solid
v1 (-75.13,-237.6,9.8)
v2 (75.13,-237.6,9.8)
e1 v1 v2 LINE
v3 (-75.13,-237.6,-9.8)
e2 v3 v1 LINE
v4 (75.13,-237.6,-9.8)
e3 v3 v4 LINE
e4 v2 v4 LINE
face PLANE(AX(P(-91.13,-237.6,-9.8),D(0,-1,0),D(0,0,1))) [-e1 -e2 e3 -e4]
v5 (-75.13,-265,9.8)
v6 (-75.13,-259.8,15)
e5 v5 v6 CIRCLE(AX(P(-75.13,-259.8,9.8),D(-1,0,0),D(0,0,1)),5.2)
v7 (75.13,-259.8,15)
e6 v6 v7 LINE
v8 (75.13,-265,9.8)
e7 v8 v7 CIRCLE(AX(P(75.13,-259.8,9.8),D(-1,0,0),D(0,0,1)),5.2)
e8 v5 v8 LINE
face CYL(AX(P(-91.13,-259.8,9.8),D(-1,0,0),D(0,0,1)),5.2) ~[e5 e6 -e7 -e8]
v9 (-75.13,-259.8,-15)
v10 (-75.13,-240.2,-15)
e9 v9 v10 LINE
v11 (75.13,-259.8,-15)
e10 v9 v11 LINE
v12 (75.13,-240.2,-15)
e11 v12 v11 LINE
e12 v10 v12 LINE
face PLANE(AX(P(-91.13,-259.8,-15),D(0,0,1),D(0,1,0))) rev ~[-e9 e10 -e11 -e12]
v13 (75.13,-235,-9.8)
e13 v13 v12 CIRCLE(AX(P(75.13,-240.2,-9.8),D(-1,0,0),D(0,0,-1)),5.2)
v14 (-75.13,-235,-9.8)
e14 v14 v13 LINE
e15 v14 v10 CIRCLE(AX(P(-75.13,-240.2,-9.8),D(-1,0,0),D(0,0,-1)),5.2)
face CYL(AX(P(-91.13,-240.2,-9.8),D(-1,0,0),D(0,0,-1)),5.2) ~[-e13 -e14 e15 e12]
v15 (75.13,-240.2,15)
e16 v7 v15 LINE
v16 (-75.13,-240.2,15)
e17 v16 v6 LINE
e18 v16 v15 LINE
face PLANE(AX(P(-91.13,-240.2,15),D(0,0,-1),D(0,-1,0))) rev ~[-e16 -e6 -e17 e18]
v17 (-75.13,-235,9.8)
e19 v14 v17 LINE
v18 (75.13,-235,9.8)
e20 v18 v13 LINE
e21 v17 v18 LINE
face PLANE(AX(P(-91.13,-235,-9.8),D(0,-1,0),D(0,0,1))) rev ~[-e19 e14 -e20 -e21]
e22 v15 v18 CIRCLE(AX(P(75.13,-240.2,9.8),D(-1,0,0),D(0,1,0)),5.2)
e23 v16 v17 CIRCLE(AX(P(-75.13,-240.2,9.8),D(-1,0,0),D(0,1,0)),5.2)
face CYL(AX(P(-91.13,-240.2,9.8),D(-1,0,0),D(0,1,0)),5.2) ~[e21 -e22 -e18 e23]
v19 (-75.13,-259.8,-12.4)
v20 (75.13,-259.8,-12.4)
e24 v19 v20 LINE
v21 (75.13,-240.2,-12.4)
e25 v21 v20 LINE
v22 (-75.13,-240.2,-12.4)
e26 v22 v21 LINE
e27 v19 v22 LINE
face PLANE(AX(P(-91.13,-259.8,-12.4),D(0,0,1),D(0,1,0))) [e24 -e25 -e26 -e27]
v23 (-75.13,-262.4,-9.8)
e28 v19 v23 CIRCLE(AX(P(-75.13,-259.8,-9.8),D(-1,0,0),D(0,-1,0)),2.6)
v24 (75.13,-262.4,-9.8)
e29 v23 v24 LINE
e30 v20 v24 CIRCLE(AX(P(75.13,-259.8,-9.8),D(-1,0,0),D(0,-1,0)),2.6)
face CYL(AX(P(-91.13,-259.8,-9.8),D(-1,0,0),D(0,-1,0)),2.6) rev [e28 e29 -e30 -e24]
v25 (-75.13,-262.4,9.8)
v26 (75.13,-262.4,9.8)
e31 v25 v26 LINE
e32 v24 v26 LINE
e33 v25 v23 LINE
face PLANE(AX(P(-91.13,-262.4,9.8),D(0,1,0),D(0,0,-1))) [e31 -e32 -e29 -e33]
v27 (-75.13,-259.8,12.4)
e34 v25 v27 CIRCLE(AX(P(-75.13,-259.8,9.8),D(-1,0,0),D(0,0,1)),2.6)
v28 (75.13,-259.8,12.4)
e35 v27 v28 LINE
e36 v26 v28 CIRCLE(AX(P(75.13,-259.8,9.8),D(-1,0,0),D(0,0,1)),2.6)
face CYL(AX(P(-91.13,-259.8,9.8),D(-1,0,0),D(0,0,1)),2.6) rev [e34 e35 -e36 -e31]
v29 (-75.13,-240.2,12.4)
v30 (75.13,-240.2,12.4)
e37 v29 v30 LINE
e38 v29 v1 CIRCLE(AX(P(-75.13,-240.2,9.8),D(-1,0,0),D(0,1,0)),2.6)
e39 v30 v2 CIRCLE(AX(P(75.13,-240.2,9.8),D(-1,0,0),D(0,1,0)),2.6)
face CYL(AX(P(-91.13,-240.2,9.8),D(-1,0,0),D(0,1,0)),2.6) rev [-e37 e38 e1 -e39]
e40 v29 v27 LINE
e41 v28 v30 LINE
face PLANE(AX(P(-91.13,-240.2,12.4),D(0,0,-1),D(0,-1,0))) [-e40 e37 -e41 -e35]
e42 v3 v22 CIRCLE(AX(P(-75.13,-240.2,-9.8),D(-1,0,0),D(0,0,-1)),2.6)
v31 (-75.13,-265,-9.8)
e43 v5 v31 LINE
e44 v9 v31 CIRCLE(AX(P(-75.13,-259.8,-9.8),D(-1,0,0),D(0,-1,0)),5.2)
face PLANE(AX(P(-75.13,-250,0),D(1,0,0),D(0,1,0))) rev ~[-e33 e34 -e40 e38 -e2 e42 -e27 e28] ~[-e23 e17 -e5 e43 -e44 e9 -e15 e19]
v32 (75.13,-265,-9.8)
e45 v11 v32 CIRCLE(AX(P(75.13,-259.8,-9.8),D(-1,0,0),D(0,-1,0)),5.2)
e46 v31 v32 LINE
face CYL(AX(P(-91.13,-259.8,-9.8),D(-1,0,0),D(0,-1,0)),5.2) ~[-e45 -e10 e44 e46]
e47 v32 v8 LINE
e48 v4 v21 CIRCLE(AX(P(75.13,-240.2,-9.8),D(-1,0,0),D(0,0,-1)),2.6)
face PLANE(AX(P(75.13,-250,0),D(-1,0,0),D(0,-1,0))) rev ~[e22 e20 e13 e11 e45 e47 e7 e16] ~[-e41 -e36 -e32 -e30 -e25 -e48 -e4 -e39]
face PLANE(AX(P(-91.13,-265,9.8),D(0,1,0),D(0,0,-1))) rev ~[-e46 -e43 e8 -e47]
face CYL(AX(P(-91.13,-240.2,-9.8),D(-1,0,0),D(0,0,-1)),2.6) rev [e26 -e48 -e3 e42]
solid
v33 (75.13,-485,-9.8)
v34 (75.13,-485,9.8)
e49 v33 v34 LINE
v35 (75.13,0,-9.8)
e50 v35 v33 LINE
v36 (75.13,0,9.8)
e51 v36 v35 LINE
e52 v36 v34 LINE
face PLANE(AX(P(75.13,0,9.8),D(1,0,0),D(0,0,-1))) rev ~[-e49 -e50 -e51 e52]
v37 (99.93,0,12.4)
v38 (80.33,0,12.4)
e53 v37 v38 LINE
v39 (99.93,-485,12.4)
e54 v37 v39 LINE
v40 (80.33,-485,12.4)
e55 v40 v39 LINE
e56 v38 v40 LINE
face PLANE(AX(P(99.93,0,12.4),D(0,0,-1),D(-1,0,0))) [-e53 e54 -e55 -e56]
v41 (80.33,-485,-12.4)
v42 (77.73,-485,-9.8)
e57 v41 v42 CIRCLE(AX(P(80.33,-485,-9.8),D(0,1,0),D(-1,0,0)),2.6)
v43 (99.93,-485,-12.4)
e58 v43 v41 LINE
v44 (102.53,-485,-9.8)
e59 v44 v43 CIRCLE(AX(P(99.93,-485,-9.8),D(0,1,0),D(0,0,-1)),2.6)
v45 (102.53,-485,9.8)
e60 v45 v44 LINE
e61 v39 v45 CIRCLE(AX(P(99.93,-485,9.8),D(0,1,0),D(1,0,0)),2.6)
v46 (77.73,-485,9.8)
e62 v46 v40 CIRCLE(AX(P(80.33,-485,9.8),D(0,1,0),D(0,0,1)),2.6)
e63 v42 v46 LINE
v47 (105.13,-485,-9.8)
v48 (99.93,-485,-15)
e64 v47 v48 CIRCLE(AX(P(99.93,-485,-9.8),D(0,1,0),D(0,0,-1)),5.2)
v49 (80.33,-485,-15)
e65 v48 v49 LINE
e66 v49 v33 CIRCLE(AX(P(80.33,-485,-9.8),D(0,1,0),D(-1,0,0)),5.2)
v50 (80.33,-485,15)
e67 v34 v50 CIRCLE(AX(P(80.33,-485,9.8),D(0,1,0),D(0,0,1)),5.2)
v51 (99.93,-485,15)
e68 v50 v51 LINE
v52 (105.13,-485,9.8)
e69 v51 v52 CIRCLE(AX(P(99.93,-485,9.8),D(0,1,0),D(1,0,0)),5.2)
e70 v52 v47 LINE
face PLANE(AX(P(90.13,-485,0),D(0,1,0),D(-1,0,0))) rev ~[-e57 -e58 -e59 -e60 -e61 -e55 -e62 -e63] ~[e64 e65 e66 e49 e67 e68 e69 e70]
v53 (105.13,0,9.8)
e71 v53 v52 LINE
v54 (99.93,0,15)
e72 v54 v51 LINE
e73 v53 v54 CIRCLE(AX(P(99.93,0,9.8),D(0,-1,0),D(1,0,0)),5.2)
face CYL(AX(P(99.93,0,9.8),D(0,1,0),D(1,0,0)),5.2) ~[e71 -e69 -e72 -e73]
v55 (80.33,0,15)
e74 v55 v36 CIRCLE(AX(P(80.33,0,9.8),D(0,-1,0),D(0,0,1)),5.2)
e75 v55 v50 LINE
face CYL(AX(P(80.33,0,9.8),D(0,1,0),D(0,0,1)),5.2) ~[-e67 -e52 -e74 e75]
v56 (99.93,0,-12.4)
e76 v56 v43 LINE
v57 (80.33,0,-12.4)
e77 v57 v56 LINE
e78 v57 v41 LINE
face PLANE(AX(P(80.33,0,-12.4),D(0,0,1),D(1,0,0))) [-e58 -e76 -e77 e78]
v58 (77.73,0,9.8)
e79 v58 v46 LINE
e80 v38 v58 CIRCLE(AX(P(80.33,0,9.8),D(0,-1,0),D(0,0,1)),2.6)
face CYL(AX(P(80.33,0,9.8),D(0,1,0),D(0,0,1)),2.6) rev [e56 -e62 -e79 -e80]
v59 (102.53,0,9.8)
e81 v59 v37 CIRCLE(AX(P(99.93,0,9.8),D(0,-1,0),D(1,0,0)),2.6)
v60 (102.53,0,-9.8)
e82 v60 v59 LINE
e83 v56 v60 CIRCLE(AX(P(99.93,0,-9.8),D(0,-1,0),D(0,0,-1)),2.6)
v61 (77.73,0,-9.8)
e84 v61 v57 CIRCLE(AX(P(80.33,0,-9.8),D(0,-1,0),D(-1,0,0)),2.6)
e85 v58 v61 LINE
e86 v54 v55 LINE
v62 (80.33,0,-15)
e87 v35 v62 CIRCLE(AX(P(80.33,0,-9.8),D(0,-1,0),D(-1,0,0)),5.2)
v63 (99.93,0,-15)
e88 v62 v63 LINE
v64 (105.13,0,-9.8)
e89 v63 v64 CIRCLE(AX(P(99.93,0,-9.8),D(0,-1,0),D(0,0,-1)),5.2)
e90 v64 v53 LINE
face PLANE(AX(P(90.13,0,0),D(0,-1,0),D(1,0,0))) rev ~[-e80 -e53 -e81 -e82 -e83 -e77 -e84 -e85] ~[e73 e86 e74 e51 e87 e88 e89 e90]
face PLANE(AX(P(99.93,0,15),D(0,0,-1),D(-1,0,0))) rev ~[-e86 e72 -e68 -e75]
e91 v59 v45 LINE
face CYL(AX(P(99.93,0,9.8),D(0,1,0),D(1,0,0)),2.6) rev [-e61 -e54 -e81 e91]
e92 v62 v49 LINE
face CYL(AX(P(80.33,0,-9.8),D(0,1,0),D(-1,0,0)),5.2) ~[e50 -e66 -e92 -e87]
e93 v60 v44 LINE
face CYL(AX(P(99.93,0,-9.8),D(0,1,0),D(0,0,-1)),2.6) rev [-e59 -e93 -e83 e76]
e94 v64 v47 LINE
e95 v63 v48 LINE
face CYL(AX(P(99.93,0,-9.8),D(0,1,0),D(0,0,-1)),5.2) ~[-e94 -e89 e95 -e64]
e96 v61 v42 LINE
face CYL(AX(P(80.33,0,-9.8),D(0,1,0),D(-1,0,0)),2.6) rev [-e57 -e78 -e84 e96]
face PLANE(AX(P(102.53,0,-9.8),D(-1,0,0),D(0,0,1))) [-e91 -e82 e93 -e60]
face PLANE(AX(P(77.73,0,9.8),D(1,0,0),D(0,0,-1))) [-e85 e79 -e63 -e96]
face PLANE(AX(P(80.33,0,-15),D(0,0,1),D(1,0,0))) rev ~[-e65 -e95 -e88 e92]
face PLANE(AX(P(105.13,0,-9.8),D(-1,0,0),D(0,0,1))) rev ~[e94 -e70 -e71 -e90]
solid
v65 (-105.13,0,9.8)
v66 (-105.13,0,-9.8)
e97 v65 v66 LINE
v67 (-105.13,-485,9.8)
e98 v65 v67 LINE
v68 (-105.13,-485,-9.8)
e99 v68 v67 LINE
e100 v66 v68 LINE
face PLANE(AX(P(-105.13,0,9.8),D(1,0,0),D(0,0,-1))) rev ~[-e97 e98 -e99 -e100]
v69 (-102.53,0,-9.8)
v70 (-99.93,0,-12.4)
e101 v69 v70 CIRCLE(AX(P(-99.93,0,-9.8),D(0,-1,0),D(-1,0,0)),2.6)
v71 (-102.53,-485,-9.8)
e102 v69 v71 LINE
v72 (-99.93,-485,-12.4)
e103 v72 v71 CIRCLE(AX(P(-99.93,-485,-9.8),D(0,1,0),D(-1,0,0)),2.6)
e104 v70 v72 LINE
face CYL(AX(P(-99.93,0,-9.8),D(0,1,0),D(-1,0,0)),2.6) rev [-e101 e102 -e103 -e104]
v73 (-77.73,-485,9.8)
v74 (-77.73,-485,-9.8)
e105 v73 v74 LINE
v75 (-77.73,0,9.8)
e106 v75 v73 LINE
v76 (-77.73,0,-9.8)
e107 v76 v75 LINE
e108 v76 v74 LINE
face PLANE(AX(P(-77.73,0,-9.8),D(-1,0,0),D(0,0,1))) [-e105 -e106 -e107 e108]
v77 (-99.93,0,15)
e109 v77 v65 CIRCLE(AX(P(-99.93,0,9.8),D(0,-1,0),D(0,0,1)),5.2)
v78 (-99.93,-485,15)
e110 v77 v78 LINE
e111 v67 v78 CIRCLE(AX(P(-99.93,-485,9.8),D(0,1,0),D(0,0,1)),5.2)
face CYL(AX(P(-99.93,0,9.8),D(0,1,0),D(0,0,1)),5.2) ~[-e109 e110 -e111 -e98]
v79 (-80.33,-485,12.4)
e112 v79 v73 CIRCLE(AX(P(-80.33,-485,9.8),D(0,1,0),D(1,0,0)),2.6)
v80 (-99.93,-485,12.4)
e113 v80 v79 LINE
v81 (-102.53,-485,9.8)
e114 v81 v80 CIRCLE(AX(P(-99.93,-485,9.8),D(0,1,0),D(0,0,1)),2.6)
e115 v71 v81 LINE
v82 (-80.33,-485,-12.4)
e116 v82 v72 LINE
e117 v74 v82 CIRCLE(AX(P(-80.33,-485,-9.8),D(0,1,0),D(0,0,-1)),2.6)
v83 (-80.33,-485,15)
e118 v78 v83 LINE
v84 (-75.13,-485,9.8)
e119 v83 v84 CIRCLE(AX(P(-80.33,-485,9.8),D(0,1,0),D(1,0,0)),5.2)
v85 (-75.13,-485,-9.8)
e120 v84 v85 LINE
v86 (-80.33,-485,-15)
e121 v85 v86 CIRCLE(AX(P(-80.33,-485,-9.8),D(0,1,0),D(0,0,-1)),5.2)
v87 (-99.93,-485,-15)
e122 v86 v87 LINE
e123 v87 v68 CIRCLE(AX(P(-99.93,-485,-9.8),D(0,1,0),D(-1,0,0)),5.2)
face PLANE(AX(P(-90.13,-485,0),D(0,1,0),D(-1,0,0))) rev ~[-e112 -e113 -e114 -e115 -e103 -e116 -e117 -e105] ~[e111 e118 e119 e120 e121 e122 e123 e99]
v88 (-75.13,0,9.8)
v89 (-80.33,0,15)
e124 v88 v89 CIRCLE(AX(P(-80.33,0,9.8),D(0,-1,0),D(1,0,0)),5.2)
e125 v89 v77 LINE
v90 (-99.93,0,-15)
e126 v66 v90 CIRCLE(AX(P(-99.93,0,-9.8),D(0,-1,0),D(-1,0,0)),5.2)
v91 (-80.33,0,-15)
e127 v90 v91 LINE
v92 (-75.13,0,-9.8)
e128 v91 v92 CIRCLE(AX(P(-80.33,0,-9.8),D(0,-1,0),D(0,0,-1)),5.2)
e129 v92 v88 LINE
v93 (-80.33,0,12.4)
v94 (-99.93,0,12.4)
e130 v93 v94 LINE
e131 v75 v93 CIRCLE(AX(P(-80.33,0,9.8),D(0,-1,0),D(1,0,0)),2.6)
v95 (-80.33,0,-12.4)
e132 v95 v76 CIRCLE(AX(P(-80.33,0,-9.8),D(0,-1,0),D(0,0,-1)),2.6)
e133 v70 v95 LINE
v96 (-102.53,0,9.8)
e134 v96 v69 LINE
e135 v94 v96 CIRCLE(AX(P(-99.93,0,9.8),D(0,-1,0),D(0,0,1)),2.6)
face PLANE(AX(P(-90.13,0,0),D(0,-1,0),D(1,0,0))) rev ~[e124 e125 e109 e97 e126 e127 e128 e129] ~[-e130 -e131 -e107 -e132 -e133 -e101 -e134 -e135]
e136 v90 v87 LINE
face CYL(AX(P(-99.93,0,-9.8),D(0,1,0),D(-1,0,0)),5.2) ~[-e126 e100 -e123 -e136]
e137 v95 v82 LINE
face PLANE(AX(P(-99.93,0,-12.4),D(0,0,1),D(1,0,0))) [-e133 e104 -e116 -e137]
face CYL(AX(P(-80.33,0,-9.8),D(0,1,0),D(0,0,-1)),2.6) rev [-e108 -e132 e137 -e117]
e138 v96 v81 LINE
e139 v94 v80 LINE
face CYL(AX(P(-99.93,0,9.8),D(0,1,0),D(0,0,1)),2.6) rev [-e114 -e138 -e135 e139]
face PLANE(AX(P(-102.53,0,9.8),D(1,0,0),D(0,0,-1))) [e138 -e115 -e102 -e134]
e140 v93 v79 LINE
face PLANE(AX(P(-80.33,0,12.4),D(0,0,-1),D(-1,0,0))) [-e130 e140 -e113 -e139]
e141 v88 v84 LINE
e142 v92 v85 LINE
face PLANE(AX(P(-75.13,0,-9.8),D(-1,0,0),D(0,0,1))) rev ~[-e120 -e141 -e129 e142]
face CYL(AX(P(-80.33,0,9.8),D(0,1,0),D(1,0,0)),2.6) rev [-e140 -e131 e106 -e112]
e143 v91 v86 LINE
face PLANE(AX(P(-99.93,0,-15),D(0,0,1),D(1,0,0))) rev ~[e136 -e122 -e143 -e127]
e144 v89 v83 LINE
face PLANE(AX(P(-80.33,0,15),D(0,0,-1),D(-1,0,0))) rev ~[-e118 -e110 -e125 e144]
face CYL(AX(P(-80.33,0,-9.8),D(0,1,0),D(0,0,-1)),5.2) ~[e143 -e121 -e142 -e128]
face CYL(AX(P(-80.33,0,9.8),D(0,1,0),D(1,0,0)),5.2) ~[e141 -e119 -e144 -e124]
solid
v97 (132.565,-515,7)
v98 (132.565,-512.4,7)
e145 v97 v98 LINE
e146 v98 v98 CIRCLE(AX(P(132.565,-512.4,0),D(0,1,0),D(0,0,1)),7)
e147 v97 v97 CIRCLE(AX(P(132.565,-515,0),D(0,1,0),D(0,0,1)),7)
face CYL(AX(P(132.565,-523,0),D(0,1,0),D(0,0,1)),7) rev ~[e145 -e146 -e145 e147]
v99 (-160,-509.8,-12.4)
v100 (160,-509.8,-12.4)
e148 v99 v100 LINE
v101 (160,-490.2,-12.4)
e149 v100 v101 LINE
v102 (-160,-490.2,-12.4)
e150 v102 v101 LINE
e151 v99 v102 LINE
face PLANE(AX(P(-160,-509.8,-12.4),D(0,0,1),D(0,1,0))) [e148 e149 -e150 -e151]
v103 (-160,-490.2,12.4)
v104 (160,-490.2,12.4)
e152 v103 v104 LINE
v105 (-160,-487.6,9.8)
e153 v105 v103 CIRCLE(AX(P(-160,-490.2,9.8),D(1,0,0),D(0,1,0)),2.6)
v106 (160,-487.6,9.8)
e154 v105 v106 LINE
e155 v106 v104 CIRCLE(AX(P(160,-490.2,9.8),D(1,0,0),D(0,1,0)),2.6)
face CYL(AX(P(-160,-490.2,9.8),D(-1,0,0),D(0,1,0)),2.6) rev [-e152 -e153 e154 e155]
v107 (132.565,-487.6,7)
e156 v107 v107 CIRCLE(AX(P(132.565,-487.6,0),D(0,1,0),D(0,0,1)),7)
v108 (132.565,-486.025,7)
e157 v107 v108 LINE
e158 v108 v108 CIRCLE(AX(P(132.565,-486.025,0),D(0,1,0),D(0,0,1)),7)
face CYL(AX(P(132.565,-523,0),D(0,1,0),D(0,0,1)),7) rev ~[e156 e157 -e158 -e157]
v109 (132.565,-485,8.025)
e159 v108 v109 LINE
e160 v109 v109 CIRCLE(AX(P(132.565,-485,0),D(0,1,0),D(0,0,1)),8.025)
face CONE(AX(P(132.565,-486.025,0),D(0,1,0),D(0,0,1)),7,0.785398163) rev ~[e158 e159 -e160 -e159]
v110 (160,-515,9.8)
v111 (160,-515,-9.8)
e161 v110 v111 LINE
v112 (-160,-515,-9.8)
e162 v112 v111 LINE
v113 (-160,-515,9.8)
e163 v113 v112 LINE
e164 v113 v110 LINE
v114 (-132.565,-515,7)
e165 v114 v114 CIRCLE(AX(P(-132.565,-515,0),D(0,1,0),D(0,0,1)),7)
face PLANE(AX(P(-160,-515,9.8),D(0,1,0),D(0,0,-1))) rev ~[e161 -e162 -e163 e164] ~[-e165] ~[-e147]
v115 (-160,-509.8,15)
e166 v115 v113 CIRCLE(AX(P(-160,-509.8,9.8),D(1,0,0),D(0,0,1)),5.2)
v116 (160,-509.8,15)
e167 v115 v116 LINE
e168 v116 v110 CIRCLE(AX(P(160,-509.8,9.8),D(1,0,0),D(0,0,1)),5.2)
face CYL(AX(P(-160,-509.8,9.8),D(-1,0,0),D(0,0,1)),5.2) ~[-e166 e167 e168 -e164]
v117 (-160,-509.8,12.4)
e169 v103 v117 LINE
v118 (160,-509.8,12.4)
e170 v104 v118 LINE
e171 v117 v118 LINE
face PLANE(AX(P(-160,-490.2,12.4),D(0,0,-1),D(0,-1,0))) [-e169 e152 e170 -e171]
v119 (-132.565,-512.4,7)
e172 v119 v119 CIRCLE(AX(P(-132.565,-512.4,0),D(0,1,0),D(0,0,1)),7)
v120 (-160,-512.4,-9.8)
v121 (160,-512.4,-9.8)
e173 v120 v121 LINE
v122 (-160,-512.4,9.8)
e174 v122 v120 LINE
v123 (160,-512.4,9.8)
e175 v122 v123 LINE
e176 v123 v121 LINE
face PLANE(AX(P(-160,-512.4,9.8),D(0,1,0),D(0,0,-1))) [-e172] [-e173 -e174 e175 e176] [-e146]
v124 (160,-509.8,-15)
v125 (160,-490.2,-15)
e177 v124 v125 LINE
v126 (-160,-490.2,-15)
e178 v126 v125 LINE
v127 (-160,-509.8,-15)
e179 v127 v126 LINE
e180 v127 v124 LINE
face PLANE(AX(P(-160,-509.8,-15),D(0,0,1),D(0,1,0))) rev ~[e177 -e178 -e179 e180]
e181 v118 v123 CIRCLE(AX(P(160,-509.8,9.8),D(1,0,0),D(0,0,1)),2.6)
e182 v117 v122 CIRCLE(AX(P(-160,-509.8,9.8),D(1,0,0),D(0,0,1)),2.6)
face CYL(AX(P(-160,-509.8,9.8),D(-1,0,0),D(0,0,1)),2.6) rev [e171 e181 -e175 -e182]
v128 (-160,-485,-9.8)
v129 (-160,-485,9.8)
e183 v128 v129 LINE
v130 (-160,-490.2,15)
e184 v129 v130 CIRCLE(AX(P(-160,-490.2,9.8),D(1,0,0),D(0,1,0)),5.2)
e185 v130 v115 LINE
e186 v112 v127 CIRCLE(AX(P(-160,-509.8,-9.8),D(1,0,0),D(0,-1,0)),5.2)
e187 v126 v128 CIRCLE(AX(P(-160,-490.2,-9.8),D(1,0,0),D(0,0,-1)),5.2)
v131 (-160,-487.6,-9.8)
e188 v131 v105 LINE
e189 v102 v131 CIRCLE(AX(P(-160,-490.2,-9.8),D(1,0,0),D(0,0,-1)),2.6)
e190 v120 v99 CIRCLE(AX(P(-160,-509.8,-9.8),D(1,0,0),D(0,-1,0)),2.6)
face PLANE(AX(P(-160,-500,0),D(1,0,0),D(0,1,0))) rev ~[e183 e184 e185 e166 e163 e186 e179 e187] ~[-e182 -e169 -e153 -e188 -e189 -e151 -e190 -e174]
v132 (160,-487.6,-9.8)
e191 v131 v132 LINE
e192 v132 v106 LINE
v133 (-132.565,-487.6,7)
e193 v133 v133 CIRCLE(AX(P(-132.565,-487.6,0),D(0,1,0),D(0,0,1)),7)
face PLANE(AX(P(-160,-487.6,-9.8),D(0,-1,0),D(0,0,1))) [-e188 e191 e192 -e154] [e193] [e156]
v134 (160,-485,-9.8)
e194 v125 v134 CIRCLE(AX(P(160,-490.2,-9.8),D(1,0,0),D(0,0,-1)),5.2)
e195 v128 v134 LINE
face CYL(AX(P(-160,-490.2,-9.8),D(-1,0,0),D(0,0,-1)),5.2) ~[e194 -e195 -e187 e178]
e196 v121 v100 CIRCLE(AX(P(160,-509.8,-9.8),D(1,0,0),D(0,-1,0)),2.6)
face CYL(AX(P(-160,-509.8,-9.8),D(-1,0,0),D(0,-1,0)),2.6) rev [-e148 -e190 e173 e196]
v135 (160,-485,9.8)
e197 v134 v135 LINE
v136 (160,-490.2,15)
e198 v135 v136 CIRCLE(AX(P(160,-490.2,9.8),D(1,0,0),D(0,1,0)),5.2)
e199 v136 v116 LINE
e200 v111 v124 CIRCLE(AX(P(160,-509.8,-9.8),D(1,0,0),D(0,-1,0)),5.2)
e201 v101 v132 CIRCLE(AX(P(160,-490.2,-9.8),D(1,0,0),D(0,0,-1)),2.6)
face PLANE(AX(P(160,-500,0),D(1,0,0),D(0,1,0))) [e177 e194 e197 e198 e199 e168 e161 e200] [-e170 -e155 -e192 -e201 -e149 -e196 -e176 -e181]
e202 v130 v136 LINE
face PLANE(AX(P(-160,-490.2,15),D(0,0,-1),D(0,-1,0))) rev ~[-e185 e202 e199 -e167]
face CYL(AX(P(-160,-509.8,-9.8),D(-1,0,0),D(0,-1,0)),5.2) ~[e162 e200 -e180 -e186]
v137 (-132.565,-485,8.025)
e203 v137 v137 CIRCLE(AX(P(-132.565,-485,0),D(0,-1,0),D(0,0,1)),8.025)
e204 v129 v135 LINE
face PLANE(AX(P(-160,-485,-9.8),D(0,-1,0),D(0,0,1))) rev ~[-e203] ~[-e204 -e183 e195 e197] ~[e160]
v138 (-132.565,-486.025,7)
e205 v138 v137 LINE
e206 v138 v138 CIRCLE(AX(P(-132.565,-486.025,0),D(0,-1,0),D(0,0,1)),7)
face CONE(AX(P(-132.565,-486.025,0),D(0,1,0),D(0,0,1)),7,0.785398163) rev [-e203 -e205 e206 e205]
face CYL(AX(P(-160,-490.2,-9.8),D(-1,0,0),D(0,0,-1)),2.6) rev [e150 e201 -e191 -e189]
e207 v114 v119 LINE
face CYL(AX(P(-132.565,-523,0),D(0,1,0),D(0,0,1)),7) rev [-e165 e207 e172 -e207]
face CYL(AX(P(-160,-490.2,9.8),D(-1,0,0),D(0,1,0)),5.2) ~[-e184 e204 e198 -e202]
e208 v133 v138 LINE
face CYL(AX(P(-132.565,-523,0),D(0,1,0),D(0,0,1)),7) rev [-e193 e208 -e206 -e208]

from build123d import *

# Parameters (mm, degrees)
SQUARE_TUBE_30_X_30_X_2_6_1_DEPTH   = 501
SQUARE_TUBE_30_X_30_X_2_6_1_2_DEPTH = 501
SQUARE_TUBE_30_X_30_X_2_6_1_3_DEPTH = 320
SQUARE_TUBE_30_X_30_X_2_6_1_4_DEPTH = 182.26


with BuildPart() as part:
    # Sketch17 → Square tube 30 X 30 X 2.6(1) (new body)
    with BuildSketch(Plane(origin=(-90.13, 0, 0), x_dir=(1, 0, 0), z_dir=(0, -1, 0))):
        with BuildLine():
            Line((-9.8, -15), (9.8, -15))
            ThreePointArc((9.8, -15), (13.476955262, -13.476955262), (15, -9.8))
            Line((15, -9.8), (15, 9.8))
            ThreePointArc((15, 9.8), (13.476955262, 13.476955262), (9.8, 15))
            Line((9.8, 15), (-9.8, 15))
            ThreePointArc((-9.8, 15), (-13.476955262, 13.476955262), (-15, 9.8))
            Line((-15, 9.8), (-15, -9.8))
            ThreePointArc((-15, -9.8), (-13.476955262, -13.476955262), (-9.8, -15))
        make_face()
        with BuildLine():
            Line((-9.8, -12.4), (9.8, -12.4))
            ThreePointArc((9.8, -12.4), (11.638477631, -11.638477631), (12.4, -9.8))
            Line((12.4, -9.8), (12.4, 9.8))
            ThreePointArc((12.4, 9.8), (11.638477631, 11.638477631), (9.8, 12.4))
            Line((9.8, 12.4), (-9.8, 12.4))
            ThreePointArc((-9.8, 12.4), (-11.638477631, 11.638477631), (-12.4, 9.8))
            Line((-12.4, 9.8), (-12.4, -9.8))
            ThreePointArc((-12.4, -9.8), (-11.638477631, -11.638477631), (-9.8, -12.4))
        make_face(mode=Mode.SUBTRACT)
    extrude(amount=SQUARE_TUBE_30_X_30_X_2_6_1_DEPTH)

    # Square tube 30 X 30 X 2.6(1) end butt 1
    split(bisect_by=Plane(origin=(-90.13, -485, 0), x_dir=(-1, 0, 0), z_dir=(0, 1, 0)), keep=Keep.TOP)


with BuildPart() as body_2:
    # Sketch17 on segment 2 (carried to segment 2) → Square tube 30 X 30 X 2.6_1 2 (new body)
    with BuildSketch(Plane(origin=(90.13, 0, 0), x_dir=(1, 0, 0), z_dir=(0, -1, 0))):
        with BuildLine():
            Line((-9.8, -15), (9.8, -15))
            ThreePointArc((9.8, -15), (13.476955262, -13.476955262), (15, -9.8))
            Line((15, -9.8), (15, 9.8))
            ThreePointArc((15, 9.8), (13.476955262, 13.476955262), (9.8, 15))
            Line((9.8, 15), (-9.8, 15))
            ThreePointArc((-9.8, 15), (-13.476955262, 13.476955262), (-15, 9.8))
            Line((-15, 9.8), (-15, -9.8))
            ThreePointArc((-15, -9.8), (-13.476955262, -13.476955262), (-9.8, -15))
        make_face()
        with BuildLine():
            Line((-9.8, -12.4), (9.8, -12.4))
            ThreePointArc((9.8, -12.4), (11.638477631, -11.638477631), (12.4, -9.8))
            Line((12.4, -9.8), (12.4, 9.8))
            ThreePointArc((12.4, 9.8), (11.638477631, 11.638477631), (9.8, 12.4))
            Line((9.8, 12.4), (-9.8, 12.4))
            ThreePointArc((-9.8, 12.4), (-11.638477631, 11.638477631), (-12.4, 9.8))
            Line((-12.4, 9.8), (-12.4, -9.8))
            ThreePointArc((-12.4, -9.8), (-11.638477631, -11.638477631), (-9.8, -12.4))
        make_face(mode=Mode.SUBTRACT)
    extrude(amount=SQUARE_TUBE_30_X_30_X_2_6_1_2_DEPTH)

    # Square tube 30 X 30 X 2.6_1 2 end butt 1
    split(bisect_by=Plane(origin=(90.13, -485, 0), x_dir=(-1, 0, 0), z_dir=(0, 1, 0)), keep=Keep.TOP)


with BuildPart() as body_3:
    # Sketch17 on segment 3 (carried to segment 3) → Square tube 30 X 30 X 2.6_1 3 (new body)
    with BuildSketch(Plane(origin=(-160, -500, 0), x_dir=(0, 1, 0), z_dir=(1, 0, 0))):
        with BuildLine():
            Line((-9.8, -15), (9.8, -15))
            ThreePointArc((9.8, -15), (13.476955262, -13.476955262), (15, -9.8))
            Line((15, -9.8), (15, 9.8))
            ThreePointArc((15, 9.8), (13.476955262, 13.476955262), (9.8, 15))
            Line((9.8, 15), (-9.8, 15))
            ThreePointArc((-9.8, 15), (-13.476955262, 13.476955262), (-15, 9.8))
            Line((-15, 9.8), (-15, -9.8))
            ThreePointArc((-15, -9.8), (-13.476955262, -13.476955262), (-9.8, -15))
        make_face()
        with BuildLine():
            Line((-9.8, -12.4), (9.8, -12.4))
            ThreePointArc((9.8, -12.4), (11.638477631, -11.638477631), (12.4, -9.8))
            Line((12.4, -9.8), (12.4, 9.8))
            ThreePointArc((12.4, 9.8), (11.638477631, 11.638477631), (9.8, 12.4))
            Line((9.8, 12.4), (-9.8, 12.4))
            ThreePointArc((-9.8, 12.4), (-11.638477631, 11.638477631), (-12.4, 9.8))
            Line((-12.4, 9.8), (-12.4, -9.8))
            ThreePointArc((-12.4, -9.8), (-11.638477631, -11.638477631), (-9.8, -12.4))
        make_face(mode=Mode.SUBTRACT)
    extrude(amount=SQUARE_TUBE_30_X_30_X_2_6_1_3_DEPTH)

    # Sketch19 → M16 Tapped Hole1 (revolve, cut)
    with BuildSketch(Plane(origin=(-132.565, -485, 0), x_dir=(0, 0, 1), z_dir=(1, 0, 0))):
        Polygon((0, 0), (0, 42.206024333), (7, 38), (7, 1.025), (8.025, 0), align=None)
    m16_tapped_hole1 = revolve(axis=Axis((-132.565, -478.65, 0), (0, -1, 0)), mode=Mode.SUBTRACT)

    # Mirror1: M16 Tapped Hole1 across plane
    add(m16_tapped_hole1.mirror(Plane(origin=(0, 0, 0), x_dir=(0, 0, 1), z_dir=(1, 0, 0))), mode=Mode.SUBTRACT)


with BuildPart() as body_4:
    # Sketch17 on segment 4 (carried to segment 4) → Square tube 30 X 30 X 2.6_1 4 (new body)
    with BuildSketch(Plane(origin=(-91.13, -250, 0), x_dir=(0, 1, 0), z_dir=(1, 0, 0))):
        with BuildLine():
            Line((-9.8, -15), (9.8, -15))
            ThreePointArc((9.8, -15), (13.476955262, -13.476955262), (15, -9.8))
            Line((15, -9.8), (15, 9.8))
            ThreePointArc((15, 9.8), (13.476955262, 13.476955262), (9.8, 15))
            Line((9.8, 15), (-9.8, 15))
            ThreePointArc((-9.8, 15), (-13.476955262, 13.476955262), (-15, 9.8))
            Line((-15, 9.8), (-15, -9.8))
            ThreePointArc((-15, -9.8), (-13.476955262, -13.476955262), (-9.8, -15))
        make_face()
        with BuildLine():
            Line((-9.8, -12.4), (9.8, -12.4))
            ThreePointArc((9.8, -12.4), (11.638477631, -11.638477631), (12.4, -9.8))
            Line((12.4, -9.8), (12.4, 9.8))
            ThreePointArc((12.4, 9.8), (11.638477631, 11.638477631), (9.8, 12.4))
            Line((9.8, 12.4), (-9.8, 12.4))
            ThreePointArc((-9.8, 12.4), (-11.638477631, 11.638477631), (-12.4, 9.8))
            Line((-12.4, 9.8), (-12.4, -9.8))
            ThreePointArc((-12.4, -9.8), (-11.638477631, -11.638477631), (-9.8, -12.4))
        make_face(mode=Mode.SUBTRACT)
    extrude(amount=SQUARE_TUBE_30_X_30_X_2_6_1_4_DEPTH)

    # Square tube 30 X 30 X 2.6_1 4 end butt 1
    split(bisect_by=Plane(origin=(-75.13, -250, 0), x_dir=(0, 1, 0), z_dir=(1, 0, 0)), keep=Keep.TOP)

    # Square tube 30 X 30 X 2.6_1 4 end butt 2
    split(bisect_by=Plane(origin=(75.13, -250, 0), x_dir=(0, -1, 0), z_dir=(-1, 0, 0)), keep=Keep.TOP)


solid = Compound([part.part, body_2.part, body_3.part, body_4.part])
